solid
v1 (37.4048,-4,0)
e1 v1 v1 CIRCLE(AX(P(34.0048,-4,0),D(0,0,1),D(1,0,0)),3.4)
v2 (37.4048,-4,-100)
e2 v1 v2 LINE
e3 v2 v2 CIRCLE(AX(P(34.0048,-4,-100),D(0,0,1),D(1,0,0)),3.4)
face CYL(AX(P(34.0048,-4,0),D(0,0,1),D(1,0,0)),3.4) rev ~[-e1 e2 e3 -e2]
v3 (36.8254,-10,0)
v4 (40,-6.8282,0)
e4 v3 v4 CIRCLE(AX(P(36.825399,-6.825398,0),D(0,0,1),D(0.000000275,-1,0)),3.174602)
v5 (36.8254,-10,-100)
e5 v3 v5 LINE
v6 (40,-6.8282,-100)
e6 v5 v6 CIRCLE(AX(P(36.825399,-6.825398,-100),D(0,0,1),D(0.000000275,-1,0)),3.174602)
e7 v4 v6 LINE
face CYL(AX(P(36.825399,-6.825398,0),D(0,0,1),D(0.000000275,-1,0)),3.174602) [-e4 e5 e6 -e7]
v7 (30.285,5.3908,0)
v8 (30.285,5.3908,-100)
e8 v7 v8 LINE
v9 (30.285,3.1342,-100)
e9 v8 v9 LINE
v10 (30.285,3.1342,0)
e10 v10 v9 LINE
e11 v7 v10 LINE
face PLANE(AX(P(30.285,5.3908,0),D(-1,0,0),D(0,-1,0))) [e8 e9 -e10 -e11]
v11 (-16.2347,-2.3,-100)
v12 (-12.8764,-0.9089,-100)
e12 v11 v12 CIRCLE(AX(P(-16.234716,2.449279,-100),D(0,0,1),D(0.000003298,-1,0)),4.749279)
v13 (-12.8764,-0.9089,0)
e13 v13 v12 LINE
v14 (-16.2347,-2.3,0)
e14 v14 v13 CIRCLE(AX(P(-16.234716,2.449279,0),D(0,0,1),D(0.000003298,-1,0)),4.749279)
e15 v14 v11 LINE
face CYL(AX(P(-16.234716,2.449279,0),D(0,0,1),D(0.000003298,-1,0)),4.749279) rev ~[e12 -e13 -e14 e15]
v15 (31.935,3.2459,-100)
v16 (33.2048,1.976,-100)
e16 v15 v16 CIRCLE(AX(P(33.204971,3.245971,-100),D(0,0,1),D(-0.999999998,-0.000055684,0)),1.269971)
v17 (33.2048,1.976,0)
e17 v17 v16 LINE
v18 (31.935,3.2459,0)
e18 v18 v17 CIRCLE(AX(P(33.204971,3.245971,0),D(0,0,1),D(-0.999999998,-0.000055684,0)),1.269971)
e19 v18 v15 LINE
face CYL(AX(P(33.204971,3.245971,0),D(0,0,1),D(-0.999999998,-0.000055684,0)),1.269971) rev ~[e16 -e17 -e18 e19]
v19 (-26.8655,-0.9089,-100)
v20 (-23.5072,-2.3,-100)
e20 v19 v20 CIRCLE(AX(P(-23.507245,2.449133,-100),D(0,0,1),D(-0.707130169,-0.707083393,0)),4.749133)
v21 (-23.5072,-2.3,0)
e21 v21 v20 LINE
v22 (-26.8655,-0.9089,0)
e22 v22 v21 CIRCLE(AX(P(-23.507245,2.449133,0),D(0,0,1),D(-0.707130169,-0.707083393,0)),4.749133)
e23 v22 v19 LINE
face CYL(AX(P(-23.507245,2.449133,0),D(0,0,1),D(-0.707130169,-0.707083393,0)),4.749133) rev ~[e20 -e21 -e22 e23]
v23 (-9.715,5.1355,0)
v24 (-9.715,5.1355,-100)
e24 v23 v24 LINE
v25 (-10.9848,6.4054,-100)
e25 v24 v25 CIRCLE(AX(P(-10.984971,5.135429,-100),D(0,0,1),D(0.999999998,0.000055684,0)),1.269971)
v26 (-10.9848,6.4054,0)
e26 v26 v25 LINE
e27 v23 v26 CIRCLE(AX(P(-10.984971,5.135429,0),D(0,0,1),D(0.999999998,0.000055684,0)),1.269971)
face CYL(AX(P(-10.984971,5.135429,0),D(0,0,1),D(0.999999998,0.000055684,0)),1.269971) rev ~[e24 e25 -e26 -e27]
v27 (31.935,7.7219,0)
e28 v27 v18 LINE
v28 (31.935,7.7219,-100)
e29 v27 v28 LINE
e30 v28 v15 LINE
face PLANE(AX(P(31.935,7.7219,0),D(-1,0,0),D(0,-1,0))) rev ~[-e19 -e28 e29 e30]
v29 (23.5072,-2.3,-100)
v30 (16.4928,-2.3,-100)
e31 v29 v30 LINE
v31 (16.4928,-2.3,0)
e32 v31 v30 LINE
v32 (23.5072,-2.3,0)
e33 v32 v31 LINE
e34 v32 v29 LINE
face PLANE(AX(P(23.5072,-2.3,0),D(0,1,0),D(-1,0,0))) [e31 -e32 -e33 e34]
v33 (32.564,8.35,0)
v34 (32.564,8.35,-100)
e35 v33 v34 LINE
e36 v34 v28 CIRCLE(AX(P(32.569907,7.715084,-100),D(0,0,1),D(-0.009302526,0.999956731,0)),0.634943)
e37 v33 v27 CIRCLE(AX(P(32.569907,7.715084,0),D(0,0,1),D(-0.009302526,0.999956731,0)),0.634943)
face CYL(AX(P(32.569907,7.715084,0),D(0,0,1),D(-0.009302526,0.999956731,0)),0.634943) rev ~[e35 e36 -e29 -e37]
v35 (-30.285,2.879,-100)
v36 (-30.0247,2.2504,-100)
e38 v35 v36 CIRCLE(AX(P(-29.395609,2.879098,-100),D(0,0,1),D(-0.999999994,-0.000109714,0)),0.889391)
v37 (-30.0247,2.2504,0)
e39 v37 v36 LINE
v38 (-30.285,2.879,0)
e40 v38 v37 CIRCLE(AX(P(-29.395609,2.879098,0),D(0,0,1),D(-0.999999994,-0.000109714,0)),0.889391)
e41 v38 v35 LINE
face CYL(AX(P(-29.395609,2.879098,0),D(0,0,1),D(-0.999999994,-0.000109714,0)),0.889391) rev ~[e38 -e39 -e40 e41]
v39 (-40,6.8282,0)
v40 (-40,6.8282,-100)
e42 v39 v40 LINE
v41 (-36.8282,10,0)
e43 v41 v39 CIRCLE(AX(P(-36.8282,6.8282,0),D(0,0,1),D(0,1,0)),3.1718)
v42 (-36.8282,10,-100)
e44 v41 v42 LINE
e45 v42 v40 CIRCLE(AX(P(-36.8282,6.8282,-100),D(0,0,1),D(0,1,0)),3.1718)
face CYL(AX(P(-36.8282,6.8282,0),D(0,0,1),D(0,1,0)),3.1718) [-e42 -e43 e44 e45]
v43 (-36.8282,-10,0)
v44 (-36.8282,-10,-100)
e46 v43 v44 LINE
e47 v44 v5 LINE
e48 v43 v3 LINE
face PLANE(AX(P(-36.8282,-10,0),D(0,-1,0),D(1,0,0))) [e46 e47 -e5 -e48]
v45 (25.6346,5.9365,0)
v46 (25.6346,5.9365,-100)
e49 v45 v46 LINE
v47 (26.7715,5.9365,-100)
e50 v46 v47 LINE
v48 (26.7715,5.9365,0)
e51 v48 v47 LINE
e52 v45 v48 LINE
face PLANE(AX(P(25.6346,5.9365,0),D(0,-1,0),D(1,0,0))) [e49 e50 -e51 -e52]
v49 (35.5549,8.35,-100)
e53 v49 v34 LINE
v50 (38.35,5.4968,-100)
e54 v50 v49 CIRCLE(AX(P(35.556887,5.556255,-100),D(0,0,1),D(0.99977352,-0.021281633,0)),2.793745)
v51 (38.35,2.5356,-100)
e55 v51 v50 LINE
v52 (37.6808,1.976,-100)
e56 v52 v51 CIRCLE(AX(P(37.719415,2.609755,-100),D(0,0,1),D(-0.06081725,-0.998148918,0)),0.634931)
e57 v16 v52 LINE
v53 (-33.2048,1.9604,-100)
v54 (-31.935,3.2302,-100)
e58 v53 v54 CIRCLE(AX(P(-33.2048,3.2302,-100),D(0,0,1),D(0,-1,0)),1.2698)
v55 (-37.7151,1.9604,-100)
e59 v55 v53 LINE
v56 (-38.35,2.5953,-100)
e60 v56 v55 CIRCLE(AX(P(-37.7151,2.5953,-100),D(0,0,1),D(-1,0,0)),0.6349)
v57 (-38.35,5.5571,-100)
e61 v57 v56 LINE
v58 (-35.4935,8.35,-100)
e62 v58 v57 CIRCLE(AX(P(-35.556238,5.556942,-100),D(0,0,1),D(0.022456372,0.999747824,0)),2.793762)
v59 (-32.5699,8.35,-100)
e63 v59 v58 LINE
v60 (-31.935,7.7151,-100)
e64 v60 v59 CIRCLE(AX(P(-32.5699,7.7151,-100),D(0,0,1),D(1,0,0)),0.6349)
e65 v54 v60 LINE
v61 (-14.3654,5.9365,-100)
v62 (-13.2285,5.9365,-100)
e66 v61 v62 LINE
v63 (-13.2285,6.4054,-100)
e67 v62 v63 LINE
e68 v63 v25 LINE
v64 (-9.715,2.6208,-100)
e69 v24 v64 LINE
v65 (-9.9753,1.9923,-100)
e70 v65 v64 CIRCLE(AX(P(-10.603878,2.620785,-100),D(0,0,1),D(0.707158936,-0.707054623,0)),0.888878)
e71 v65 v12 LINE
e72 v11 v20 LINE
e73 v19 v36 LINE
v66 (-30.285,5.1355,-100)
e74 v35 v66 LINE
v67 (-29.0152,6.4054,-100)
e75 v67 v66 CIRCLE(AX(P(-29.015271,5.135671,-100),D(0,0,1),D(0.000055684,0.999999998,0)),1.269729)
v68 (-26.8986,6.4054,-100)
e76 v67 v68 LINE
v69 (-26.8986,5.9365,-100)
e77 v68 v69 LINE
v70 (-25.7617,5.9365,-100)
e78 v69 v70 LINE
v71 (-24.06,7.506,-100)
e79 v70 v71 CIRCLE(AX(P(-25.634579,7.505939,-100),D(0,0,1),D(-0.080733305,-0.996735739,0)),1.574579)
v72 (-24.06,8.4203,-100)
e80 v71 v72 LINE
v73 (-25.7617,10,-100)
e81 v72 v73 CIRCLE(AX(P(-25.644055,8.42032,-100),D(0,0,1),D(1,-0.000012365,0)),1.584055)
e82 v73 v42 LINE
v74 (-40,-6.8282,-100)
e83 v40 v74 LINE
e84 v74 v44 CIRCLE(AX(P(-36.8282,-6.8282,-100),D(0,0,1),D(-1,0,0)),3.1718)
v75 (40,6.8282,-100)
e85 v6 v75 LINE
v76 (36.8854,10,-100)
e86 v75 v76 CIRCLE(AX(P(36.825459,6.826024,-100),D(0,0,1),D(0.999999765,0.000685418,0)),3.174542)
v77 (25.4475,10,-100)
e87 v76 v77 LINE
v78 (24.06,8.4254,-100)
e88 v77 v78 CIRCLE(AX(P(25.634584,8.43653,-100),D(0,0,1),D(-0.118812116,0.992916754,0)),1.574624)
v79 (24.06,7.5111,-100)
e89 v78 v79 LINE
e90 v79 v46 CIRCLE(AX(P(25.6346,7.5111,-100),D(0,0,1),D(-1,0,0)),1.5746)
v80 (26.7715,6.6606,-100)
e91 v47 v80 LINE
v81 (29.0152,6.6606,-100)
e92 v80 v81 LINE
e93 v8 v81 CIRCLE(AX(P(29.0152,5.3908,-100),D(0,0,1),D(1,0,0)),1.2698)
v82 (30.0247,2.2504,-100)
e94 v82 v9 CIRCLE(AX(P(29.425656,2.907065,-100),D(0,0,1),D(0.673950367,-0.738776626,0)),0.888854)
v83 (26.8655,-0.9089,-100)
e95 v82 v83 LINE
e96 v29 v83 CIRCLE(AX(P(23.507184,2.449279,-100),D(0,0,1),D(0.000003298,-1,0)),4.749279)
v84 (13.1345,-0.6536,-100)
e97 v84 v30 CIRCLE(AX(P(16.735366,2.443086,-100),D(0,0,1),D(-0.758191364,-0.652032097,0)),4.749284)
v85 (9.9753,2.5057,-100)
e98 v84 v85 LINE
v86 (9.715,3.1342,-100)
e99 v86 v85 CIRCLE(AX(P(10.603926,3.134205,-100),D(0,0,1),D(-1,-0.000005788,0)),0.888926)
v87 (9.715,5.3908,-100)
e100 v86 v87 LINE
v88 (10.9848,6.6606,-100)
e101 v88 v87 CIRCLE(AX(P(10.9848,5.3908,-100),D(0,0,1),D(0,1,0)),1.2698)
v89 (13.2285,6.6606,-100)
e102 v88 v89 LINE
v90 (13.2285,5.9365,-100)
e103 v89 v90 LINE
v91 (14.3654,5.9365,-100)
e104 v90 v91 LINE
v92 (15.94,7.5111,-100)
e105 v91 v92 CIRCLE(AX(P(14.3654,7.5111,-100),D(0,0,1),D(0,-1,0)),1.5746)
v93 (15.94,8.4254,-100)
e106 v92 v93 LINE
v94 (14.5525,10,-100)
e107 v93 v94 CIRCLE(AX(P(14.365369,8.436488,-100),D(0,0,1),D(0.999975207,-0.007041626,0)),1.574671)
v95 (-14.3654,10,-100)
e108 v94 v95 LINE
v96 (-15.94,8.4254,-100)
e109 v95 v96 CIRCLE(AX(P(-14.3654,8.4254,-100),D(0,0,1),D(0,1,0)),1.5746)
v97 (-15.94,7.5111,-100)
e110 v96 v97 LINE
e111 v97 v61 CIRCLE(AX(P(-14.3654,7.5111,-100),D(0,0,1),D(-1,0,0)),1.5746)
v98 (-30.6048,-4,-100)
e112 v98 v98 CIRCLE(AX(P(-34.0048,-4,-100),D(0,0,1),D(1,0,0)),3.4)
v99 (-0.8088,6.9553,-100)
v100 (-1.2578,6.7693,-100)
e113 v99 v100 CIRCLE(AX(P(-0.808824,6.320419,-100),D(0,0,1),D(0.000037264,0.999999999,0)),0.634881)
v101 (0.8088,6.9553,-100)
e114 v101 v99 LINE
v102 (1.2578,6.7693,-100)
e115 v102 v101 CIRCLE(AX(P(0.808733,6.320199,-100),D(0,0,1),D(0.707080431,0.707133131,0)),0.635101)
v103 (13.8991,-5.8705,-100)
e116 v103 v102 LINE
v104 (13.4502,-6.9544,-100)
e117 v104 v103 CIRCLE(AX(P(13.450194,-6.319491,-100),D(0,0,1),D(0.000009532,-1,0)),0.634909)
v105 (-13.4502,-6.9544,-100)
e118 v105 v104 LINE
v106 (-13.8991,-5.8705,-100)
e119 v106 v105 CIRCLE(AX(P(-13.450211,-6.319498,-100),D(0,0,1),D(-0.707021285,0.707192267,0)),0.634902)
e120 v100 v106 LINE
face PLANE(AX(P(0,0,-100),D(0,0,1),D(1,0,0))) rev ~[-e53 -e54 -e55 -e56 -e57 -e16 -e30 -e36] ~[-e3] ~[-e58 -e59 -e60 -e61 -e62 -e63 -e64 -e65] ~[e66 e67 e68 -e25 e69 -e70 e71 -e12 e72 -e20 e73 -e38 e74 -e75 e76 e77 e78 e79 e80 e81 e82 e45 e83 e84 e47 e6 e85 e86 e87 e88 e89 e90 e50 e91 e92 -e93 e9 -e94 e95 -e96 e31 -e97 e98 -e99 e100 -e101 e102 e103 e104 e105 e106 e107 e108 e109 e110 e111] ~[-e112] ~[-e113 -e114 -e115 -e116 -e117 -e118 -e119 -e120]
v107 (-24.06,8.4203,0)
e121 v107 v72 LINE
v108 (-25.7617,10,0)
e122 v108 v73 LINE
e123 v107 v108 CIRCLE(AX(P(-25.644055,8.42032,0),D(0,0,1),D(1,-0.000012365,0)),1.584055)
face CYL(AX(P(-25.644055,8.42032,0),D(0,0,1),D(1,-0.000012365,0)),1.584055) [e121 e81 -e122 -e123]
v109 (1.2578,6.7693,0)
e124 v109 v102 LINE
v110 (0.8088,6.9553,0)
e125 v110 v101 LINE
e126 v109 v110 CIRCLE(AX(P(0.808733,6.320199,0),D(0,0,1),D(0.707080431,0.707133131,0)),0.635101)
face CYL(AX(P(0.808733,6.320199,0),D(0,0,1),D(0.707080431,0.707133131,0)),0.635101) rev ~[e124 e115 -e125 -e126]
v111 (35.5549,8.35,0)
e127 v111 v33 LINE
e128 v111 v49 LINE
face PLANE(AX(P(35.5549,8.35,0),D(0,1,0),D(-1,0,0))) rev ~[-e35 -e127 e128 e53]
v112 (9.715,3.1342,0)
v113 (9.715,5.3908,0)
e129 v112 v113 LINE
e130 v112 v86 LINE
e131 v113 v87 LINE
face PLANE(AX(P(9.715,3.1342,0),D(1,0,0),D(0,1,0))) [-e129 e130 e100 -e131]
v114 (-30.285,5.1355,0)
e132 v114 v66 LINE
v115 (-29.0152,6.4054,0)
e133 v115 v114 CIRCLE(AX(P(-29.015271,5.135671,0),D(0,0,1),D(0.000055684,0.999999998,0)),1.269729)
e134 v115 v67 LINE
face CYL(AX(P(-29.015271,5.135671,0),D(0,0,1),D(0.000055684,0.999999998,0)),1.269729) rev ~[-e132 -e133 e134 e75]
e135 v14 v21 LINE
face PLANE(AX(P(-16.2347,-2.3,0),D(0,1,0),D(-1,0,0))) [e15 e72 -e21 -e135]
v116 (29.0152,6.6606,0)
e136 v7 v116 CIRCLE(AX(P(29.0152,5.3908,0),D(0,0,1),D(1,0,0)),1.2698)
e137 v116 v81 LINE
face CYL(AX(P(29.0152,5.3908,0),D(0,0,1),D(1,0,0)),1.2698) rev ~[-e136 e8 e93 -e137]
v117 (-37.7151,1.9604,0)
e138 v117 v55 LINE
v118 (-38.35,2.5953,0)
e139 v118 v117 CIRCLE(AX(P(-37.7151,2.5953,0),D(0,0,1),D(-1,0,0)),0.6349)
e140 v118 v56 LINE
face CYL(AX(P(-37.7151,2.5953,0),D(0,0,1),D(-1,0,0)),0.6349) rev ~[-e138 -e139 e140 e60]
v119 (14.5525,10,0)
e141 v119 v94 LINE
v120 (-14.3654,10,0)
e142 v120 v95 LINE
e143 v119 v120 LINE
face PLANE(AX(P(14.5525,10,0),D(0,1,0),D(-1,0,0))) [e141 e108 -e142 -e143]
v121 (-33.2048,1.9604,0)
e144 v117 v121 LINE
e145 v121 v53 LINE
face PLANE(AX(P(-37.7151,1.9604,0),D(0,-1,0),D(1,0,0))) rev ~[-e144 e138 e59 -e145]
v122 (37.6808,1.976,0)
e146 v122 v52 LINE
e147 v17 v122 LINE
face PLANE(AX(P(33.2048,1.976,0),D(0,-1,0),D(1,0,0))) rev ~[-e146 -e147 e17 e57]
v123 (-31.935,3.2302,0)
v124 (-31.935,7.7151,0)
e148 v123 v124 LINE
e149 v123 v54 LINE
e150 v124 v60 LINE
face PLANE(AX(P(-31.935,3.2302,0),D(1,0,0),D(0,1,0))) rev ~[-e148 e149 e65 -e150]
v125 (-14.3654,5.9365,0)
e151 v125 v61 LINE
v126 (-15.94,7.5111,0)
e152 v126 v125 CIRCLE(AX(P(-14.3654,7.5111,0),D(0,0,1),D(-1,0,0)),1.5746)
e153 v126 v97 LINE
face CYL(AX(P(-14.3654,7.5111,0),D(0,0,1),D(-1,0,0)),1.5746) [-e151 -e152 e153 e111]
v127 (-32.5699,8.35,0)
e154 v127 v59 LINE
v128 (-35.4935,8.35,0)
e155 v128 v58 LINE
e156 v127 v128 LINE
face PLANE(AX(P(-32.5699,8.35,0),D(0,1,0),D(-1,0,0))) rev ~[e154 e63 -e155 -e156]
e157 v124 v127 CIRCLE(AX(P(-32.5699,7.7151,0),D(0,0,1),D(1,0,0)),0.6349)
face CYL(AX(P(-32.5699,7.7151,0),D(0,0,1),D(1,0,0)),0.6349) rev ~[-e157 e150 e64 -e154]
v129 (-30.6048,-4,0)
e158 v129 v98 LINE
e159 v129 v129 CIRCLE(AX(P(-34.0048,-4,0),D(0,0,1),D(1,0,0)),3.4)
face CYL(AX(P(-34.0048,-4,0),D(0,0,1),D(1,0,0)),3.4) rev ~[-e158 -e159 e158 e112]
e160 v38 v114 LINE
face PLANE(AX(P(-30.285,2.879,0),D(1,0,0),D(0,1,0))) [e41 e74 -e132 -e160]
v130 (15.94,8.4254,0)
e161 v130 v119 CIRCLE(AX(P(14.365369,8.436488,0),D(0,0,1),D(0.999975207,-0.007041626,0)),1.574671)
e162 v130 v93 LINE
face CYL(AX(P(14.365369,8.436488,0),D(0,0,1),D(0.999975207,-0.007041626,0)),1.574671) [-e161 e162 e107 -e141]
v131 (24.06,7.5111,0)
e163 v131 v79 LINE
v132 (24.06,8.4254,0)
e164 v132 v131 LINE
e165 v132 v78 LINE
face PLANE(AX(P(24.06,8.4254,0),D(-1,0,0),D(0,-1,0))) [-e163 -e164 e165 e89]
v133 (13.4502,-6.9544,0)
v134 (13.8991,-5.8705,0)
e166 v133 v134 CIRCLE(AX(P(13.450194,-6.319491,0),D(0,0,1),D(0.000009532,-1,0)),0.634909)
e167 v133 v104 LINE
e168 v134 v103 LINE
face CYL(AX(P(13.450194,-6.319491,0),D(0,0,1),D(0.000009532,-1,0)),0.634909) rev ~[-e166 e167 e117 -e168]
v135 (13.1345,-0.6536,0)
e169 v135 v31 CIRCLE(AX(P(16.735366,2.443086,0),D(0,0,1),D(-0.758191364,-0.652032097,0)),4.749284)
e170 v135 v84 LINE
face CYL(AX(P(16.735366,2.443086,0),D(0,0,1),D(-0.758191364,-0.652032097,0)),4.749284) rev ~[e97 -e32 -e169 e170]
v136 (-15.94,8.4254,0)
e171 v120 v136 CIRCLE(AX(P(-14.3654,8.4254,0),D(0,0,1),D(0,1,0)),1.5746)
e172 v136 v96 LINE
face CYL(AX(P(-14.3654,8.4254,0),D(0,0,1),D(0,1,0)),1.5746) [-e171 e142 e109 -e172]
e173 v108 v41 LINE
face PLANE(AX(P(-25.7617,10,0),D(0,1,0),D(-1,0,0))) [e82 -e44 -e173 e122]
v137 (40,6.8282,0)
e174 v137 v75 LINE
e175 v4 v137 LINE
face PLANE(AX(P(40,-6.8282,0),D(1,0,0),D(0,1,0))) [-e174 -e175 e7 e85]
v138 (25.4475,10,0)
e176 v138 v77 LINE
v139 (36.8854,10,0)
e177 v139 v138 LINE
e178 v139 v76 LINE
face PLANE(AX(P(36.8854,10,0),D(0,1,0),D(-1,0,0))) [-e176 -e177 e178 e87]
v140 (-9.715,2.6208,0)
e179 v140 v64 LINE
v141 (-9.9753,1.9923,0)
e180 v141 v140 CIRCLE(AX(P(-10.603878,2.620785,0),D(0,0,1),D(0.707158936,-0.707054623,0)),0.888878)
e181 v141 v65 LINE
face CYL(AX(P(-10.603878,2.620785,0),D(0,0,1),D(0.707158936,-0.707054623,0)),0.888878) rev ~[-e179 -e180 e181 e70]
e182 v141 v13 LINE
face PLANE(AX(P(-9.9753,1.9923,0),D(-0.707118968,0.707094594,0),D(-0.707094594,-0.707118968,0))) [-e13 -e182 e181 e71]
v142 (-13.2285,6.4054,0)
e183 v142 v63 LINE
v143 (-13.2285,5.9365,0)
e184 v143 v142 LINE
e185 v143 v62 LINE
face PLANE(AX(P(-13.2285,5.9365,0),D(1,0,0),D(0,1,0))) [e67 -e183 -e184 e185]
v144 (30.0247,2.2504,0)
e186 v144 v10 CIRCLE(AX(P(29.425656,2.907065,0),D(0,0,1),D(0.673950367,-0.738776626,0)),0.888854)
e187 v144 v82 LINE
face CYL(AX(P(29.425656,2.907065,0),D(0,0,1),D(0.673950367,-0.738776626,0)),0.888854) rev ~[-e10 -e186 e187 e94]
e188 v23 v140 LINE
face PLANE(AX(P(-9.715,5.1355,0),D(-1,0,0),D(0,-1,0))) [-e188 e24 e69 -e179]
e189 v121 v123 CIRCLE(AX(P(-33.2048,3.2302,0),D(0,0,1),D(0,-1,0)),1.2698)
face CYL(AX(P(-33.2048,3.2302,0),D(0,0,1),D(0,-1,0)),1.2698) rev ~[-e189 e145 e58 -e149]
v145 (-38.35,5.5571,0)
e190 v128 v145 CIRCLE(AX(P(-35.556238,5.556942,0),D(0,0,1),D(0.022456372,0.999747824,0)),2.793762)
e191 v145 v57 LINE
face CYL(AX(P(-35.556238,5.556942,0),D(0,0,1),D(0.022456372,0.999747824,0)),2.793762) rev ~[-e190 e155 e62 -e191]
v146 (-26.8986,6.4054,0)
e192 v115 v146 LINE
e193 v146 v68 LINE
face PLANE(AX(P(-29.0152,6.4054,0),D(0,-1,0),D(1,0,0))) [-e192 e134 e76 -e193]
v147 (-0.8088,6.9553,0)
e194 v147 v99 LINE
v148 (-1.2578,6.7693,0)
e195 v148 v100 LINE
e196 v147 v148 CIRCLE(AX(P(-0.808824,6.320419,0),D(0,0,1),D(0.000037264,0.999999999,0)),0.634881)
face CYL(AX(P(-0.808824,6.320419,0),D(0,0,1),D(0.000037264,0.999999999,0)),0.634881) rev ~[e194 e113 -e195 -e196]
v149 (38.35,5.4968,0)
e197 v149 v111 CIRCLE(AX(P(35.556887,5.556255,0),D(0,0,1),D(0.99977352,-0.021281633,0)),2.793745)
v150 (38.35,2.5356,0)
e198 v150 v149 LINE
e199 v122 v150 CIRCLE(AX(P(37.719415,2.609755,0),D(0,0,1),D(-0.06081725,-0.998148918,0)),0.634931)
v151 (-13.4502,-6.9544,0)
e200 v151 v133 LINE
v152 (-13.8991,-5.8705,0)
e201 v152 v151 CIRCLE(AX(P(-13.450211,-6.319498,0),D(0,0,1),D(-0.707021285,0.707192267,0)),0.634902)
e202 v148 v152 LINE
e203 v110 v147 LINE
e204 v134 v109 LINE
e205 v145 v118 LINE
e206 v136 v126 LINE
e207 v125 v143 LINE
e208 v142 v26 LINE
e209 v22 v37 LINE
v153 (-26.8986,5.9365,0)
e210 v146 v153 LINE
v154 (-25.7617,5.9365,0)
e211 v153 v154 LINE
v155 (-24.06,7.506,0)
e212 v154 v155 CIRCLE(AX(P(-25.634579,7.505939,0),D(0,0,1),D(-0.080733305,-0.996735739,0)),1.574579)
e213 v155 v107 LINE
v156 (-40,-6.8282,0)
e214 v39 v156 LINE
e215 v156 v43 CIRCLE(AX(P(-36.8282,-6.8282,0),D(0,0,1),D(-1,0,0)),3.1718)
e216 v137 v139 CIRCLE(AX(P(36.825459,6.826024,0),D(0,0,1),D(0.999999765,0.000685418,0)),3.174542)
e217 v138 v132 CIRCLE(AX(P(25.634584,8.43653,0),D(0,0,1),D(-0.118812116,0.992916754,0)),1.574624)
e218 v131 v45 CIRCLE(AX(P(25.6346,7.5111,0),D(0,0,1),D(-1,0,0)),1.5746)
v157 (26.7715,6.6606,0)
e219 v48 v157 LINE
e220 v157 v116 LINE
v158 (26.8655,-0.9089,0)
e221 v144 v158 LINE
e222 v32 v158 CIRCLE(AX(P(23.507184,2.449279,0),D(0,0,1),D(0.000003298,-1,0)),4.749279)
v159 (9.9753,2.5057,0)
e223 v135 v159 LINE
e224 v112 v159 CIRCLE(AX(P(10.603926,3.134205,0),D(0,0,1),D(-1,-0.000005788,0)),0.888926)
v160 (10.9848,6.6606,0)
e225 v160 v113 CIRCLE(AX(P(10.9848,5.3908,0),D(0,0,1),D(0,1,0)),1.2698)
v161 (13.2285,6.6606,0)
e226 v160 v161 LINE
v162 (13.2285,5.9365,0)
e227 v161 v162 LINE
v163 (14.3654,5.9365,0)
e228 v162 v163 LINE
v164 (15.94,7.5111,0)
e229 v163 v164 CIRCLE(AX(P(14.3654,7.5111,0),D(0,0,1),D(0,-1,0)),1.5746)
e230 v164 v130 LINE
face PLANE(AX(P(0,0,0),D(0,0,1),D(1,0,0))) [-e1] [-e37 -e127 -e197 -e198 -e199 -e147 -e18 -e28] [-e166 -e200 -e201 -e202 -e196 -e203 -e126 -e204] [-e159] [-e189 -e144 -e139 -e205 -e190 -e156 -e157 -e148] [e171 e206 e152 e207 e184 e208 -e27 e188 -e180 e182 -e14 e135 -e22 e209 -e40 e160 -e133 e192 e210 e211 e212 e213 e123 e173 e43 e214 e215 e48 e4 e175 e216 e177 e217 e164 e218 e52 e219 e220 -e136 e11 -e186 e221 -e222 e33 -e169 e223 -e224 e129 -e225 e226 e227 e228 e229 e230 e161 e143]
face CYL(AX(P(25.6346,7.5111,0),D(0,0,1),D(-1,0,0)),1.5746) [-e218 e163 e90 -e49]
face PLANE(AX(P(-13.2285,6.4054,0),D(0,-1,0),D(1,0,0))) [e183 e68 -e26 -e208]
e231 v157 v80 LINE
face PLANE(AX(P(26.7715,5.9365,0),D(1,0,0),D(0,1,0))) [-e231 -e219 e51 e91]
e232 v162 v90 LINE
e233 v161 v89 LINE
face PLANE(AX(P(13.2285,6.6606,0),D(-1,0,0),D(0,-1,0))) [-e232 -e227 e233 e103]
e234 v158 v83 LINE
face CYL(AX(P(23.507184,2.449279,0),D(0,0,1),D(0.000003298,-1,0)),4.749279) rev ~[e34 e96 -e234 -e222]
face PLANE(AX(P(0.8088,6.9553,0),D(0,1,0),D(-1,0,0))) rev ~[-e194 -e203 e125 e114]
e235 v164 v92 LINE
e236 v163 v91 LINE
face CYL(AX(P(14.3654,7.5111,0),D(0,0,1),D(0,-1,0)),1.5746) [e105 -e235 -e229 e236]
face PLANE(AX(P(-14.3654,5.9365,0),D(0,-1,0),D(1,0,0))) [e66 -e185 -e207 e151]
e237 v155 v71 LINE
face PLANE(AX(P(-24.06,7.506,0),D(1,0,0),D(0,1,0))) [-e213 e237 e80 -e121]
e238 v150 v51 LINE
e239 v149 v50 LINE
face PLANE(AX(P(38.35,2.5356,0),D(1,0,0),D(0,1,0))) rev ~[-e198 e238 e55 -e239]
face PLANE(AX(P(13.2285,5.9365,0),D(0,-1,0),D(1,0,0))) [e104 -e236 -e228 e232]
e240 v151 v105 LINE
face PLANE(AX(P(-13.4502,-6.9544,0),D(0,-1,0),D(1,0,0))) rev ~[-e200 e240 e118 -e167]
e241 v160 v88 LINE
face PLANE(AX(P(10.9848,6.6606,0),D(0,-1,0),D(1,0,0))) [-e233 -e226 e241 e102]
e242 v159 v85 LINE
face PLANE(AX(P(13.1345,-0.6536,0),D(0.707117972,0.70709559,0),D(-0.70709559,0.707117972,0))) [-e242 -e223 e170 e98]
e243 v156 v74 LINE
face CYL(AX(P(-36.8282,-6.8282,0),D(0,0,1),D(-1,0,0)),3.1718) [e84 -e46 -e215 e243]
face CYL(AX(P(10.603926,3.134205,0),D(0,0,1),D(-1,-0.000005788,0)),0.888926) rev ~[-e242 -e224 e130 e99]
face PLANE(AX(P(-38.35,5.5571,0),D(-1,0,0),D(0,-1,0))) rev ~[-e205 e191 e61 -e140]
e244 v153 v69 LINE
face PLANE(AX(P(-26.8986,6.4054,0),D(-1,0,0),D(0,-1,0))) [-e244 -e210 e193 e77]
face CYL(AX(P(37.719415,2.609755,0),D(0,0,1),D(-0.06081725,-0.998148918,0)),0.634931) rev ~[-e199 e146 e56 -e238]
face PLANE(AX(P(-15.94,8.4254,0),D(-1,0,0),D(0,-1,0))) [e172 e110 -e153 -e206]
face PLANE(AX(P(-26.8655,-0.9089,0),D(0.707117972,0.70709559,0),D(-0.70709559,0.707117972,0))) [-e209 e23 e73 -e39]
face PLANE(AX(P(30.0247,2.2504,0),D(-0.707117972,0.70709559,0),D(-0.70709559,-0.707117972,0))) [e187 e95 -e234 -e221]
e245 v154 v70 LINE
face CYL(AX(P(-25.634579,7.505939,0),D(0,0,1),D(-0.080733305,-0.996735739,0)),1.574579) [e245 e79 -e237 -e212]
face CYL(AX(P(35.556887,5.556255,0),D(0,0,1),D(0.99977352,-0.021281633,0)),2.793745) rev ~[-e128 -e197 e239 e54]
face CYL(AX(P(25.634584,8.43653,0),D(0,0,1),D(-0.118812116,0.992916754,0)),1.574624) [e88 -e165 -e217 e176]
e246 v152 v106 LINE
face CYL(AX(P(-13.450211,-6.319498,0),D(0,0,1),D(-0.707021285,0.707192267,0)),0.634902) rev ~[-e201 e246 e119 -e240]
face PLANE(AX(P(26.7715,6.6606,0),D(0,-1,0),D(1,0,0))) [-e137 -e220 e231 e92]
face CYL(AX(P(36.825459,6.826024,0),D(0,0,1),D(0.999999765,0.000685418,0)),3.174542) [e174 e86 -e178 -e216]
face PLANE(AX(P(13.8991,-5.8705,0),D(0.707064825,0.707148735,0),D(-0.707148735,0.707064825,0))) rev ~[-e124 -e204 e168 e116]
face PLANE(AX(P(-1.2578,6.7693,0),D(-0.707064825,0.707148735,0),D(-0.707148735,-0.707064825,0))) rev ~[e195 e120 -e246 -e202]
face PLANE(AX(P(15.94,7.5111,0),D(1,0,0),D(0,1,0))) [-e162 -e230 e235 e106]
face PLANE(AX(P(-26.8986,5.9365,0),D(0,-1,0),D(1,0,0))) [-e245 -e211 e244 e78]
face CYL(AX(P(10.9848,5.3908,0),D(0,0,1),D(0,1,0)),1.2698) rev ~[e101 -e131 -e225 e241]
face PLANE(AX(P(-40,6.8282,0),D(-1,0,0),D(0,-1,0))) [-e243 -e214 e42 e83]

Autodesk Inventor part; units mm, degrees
ref_plane "YZ Plane" through (0, 0, 0) normal (1, 0, 0) x (0, 1, 0)
ref_plane "XZ Plane" through (0, 0, 0) normal (0, 1, 0) x (-1, 0, 0)
ref_plane "XY Plane" through (0, 0, 0) normal (0, 0, 1) x (1, 0, 0)
sketch "Sketch1" plane through (0, 0, 0) normal (0, 0, 1) x (1, 0, 0)
  circle A0 centre (34.0048, -4) radius 3.4
  line L0 (31.935, 7.7219) -> (31.935, 3.2459)
  arc A1 (32.564, 8.35) -> (31.935, 7.7219) centre (32.5699, 7.7151) ccw
  line L1 (35.5549, 8.35) -> (32.564, 8.35)
  arc A2 (38.35, 5.4968) -> (35.5549, 8.35) centre (35.557, 5.5563) ccw
  line L2 (38.35, 2.5356) -> (38.35, 5.4968)
  arc A3 (37.6808, 1.976) -> (38.35, 2.5356) centre (37.7194, 2.6098) ccw
  line L3 (33.2048, 1.976) -> (37.6808, 1.976)
  arc A4 (31.935, 3.2459) -> (33.2048, 1.976) centre (33.2048, 3.2459) ccw
  line L4 (-13.4502, -6.9544) -> (13.4502, -6.9544)
  arc A5 (-13.8991, -5.8705) -> (-13.4502, -6.9544) centre (-13.4502, -6.3195) ccw
  line L5 (-1.2578, 6.7693) -> (-13.8991, -5.8705)
  arc A6 (-0.8088, 6.9553) -> (-1.2578, 6.7693) centre (-0.8088, 6.3203) ccw
  line L6 (0.8088, 6.9553) -> (-0.8088, 6.9553)
  arc A7 (1.2578, 6.7693) -> (0.8088, 6.9553) centre (0.8088, 6.3203) ccw
  line L7 (13.8991, -5.8705) -> (1.2578, 6.7693)
  arc A8 (13.4502, -6.9544) -> (13.8991, -5.8705) centre (13.4502, -6.3195) ccw
  line L8 (-37.7151, 1.9604) -> (-33.2048, 1.9604)
  arc A9 (-38.35, 2.5953) -> (-37.7151, 1.9604) centre (-37.7151, 2.5953) ccw
  line L9 (-38.35, 5.5571) -> (-38.35, 2.5953)
  arc A10 (-35.4935, 8.35) -> (-38.35, 5.5571) centre (-35.5563, 5.5571) ccw
  line L10 (-32.5699, 8.35) -> (-35.4935, 8.35)
  arc A11 (-31.935, 7.7151) -> (-32.5699, 8.35) centre (-32.5699, 7.7151) ccw
  line L11 (-31.935, 3.2302) -> (-31.935, 7.7151)
  arc A12 (-33.2048, 1.9604) -> (-31.935, 3.2302) centre (-33.2048, 3.2302) ccw
  circle A13 centre (-34.0048, -4) radius 3.4
  line L12 (13.2285, 5.9365) -> (14.3654, 5.9365)
  arc A14 (14.3654, 5.9365) -> (15.94, 7.5111) centre (14.3654, 7.5111) ccw
  line L13 (15.94, 7.5111) -> (15.94, 8.4254)
  arc A15 (15.94, 8.4254) -> (14.5525, 10) centre (14.3654, 8.4365) ccw
  line L14 (14.5525, 10) -> (-14.3654, 10)
  arc A16 (-14.3654, 10) -> (-15.94, 8.4254) centre (-14.3654, 8.4254) ccw
  line L15 (-15.94, 8.4254) -> (-15.94, 7.5111)
  arc A17 (-15.94, 7.5111) -> (-14.3654, 5.9365) centre (-14.3654, 7.5111) ccw
  line L16 (-14.3654, 5.9365) -> (-13.2285, 5.9365)
  line L17 (-13.2285, 5.9365) -> (-13.2285, 6.4054)
  line L18 (-13.2285, 6.4054) -> (-10.9848, 6.4054)
  arc A18 (-9.715, 5.1355) -> (-10.9848, 6.4054) centre (-10.9848, 5.1355) ccw
  line L19 (-9.715, 5.1355) -> (-9.715, 2.6208)
  arc A19 (-9.9753, 1.9923) -> (-9.715, 2.6208) centre (-10.6039, 2.6208) ccw
  line L20 (-9.9753, 1.9923) -> (-12.8764, -0.9089)
  arc A20 (-16.2347, -2.3) -> (-12.8764, -0.9089) centre (-16.2347, 2.4492) ccw
  line L21 (-16.2347, -2.3) -> (-23.5072, -2.3)
  arc A21 (-26.8655, -0.9089) -> (-23.5072, -2.3) centre (-23.5072, 2.4492) ccw
  line L22 (-26.8655, -0.9089) -> (-30.0247, 2.2504)
  arc A22 (-30.285, 2.879) -> (-30.0247, 2.2504) centre (-29.3961, 2.879) ccw
  line L23 (-30.285, 2.879) -> (-30.285, 5.1355)
  arc A23 (-29.0152, 6.4054) -> (-30.285, 5.1355) centre (-29.0152, 5.1355) ccw
  line L24 (-29.0152, 6.4054) -> (-26.8986, 6.4054)
  line L25 (-26.8986, 6.4054) -> (-26.8986, 5.9365)
  line L26 (-26.8986, 5.9365) -> (-25.7617, 5.9365)
  arc A24 (-25.7617, 5.9365) -> (-24.06, 7.506) centre (-25.6346, 7.506) ccw
  line L27 (-24.06, 7.506) -> (-24.06, 8.4203)
  arc A25 (-24.06, 8.4203) -> (-25.7617, 10) centre (-25.6441, 8.4203) ccw
  line L28 (-25.7617, 10) -> (-36.8282, 10)
  arc A26 (-36.8282, 10) -> (-40, 6.8282) centre (-36.8282, 6.8282) ccw
  line L29 (-40, 6.8282) -> (-40, -6.8282)
  arc A27 (-40, -6.8282) -> (-36.8282, -10) centre (-36.8282, -6.8282) ccw
  line L30 (-36.8282, -10) -> (36.8254, -10)
  arc A28 (36.8254, -10) -> (40, -6.8282) centre (36.8254, -6.8254) ccw
  line L31 (40, -6.8282) -> (40, 6.8282)
  arc A29 (40, 6.8282) -> (36.8854, 10) centre (36.8254, 6.826) ccw
  line L32 (36.8854, 10) -> (25.4475, 10)
  arc A30 (25.4475, 10) -> (24.06, 8.4254) centre (25.6346, 8.4365) ccw
  line L33 (24.06, 8.4254) -> (24.06, 7.5111)
  arc A31 (24.06, 7.5111) -> (25.6346, 5.9365) centre (25.6346, 7.5111) ccw
  line L34 (25.6346, 5.9365) -> (26.7715, 5.9365)
  line L35 (26.7715, 5.9365) -> (26.7715, 6.6606)
  line L36 (26.7715, 6.6606) -> (29.0152, 6.6606)
  arc A32 (30.285, 5.3908) -> (29.0152, 6.6606) centre (29.0152, 5.3908) ccw
  line L37 (30.285, 5.3908) -> (30.285, 3.1342)
  arc A33 (30.0247, 2.2504) -> (30.285, 3.1342) centre (29.4256, 2.9071) ccw
  line L38 (30.0247, 2.2504) -> (26.8655, -0.9089)
  arc A34 (23.5072, -2.3) -> (26.8655, -0.9089) centre (23.5072, 2.4492) ccw
  line L39 (23.5072, -2.3) -> (16.4928, -2.3)
  arc A35 (13.1345, -0.6536) -> (16.4928, -2.3) centre (16.7353, 2.443) ccw
  line L40 (13.1345, -0.6536) -> (9.9753, 2.5057)
  arc A36 (9.715, 3.1342) -> (9.9753, 2.5057) centre (10.6039, 3.1342) ccw
  line L41 (9.715, 3.1342) -> (9.715, 5.3908)
  arc A37 (10.9848, 6.6606) -> (9.715, 5.3908) centre (10.9848, 5.3908) ccw
  line L42 (10.9848, 6.6606) -> (13.2285, 6.6606)
  line L43 (13.2285, 6.6606) -> (13.2285, 5.9365)
  point P0 (0, 0)
extrude "Extrusion1" add sketch "Sketch1" against normal blind 100
properties part number "40-8020.dxf"
